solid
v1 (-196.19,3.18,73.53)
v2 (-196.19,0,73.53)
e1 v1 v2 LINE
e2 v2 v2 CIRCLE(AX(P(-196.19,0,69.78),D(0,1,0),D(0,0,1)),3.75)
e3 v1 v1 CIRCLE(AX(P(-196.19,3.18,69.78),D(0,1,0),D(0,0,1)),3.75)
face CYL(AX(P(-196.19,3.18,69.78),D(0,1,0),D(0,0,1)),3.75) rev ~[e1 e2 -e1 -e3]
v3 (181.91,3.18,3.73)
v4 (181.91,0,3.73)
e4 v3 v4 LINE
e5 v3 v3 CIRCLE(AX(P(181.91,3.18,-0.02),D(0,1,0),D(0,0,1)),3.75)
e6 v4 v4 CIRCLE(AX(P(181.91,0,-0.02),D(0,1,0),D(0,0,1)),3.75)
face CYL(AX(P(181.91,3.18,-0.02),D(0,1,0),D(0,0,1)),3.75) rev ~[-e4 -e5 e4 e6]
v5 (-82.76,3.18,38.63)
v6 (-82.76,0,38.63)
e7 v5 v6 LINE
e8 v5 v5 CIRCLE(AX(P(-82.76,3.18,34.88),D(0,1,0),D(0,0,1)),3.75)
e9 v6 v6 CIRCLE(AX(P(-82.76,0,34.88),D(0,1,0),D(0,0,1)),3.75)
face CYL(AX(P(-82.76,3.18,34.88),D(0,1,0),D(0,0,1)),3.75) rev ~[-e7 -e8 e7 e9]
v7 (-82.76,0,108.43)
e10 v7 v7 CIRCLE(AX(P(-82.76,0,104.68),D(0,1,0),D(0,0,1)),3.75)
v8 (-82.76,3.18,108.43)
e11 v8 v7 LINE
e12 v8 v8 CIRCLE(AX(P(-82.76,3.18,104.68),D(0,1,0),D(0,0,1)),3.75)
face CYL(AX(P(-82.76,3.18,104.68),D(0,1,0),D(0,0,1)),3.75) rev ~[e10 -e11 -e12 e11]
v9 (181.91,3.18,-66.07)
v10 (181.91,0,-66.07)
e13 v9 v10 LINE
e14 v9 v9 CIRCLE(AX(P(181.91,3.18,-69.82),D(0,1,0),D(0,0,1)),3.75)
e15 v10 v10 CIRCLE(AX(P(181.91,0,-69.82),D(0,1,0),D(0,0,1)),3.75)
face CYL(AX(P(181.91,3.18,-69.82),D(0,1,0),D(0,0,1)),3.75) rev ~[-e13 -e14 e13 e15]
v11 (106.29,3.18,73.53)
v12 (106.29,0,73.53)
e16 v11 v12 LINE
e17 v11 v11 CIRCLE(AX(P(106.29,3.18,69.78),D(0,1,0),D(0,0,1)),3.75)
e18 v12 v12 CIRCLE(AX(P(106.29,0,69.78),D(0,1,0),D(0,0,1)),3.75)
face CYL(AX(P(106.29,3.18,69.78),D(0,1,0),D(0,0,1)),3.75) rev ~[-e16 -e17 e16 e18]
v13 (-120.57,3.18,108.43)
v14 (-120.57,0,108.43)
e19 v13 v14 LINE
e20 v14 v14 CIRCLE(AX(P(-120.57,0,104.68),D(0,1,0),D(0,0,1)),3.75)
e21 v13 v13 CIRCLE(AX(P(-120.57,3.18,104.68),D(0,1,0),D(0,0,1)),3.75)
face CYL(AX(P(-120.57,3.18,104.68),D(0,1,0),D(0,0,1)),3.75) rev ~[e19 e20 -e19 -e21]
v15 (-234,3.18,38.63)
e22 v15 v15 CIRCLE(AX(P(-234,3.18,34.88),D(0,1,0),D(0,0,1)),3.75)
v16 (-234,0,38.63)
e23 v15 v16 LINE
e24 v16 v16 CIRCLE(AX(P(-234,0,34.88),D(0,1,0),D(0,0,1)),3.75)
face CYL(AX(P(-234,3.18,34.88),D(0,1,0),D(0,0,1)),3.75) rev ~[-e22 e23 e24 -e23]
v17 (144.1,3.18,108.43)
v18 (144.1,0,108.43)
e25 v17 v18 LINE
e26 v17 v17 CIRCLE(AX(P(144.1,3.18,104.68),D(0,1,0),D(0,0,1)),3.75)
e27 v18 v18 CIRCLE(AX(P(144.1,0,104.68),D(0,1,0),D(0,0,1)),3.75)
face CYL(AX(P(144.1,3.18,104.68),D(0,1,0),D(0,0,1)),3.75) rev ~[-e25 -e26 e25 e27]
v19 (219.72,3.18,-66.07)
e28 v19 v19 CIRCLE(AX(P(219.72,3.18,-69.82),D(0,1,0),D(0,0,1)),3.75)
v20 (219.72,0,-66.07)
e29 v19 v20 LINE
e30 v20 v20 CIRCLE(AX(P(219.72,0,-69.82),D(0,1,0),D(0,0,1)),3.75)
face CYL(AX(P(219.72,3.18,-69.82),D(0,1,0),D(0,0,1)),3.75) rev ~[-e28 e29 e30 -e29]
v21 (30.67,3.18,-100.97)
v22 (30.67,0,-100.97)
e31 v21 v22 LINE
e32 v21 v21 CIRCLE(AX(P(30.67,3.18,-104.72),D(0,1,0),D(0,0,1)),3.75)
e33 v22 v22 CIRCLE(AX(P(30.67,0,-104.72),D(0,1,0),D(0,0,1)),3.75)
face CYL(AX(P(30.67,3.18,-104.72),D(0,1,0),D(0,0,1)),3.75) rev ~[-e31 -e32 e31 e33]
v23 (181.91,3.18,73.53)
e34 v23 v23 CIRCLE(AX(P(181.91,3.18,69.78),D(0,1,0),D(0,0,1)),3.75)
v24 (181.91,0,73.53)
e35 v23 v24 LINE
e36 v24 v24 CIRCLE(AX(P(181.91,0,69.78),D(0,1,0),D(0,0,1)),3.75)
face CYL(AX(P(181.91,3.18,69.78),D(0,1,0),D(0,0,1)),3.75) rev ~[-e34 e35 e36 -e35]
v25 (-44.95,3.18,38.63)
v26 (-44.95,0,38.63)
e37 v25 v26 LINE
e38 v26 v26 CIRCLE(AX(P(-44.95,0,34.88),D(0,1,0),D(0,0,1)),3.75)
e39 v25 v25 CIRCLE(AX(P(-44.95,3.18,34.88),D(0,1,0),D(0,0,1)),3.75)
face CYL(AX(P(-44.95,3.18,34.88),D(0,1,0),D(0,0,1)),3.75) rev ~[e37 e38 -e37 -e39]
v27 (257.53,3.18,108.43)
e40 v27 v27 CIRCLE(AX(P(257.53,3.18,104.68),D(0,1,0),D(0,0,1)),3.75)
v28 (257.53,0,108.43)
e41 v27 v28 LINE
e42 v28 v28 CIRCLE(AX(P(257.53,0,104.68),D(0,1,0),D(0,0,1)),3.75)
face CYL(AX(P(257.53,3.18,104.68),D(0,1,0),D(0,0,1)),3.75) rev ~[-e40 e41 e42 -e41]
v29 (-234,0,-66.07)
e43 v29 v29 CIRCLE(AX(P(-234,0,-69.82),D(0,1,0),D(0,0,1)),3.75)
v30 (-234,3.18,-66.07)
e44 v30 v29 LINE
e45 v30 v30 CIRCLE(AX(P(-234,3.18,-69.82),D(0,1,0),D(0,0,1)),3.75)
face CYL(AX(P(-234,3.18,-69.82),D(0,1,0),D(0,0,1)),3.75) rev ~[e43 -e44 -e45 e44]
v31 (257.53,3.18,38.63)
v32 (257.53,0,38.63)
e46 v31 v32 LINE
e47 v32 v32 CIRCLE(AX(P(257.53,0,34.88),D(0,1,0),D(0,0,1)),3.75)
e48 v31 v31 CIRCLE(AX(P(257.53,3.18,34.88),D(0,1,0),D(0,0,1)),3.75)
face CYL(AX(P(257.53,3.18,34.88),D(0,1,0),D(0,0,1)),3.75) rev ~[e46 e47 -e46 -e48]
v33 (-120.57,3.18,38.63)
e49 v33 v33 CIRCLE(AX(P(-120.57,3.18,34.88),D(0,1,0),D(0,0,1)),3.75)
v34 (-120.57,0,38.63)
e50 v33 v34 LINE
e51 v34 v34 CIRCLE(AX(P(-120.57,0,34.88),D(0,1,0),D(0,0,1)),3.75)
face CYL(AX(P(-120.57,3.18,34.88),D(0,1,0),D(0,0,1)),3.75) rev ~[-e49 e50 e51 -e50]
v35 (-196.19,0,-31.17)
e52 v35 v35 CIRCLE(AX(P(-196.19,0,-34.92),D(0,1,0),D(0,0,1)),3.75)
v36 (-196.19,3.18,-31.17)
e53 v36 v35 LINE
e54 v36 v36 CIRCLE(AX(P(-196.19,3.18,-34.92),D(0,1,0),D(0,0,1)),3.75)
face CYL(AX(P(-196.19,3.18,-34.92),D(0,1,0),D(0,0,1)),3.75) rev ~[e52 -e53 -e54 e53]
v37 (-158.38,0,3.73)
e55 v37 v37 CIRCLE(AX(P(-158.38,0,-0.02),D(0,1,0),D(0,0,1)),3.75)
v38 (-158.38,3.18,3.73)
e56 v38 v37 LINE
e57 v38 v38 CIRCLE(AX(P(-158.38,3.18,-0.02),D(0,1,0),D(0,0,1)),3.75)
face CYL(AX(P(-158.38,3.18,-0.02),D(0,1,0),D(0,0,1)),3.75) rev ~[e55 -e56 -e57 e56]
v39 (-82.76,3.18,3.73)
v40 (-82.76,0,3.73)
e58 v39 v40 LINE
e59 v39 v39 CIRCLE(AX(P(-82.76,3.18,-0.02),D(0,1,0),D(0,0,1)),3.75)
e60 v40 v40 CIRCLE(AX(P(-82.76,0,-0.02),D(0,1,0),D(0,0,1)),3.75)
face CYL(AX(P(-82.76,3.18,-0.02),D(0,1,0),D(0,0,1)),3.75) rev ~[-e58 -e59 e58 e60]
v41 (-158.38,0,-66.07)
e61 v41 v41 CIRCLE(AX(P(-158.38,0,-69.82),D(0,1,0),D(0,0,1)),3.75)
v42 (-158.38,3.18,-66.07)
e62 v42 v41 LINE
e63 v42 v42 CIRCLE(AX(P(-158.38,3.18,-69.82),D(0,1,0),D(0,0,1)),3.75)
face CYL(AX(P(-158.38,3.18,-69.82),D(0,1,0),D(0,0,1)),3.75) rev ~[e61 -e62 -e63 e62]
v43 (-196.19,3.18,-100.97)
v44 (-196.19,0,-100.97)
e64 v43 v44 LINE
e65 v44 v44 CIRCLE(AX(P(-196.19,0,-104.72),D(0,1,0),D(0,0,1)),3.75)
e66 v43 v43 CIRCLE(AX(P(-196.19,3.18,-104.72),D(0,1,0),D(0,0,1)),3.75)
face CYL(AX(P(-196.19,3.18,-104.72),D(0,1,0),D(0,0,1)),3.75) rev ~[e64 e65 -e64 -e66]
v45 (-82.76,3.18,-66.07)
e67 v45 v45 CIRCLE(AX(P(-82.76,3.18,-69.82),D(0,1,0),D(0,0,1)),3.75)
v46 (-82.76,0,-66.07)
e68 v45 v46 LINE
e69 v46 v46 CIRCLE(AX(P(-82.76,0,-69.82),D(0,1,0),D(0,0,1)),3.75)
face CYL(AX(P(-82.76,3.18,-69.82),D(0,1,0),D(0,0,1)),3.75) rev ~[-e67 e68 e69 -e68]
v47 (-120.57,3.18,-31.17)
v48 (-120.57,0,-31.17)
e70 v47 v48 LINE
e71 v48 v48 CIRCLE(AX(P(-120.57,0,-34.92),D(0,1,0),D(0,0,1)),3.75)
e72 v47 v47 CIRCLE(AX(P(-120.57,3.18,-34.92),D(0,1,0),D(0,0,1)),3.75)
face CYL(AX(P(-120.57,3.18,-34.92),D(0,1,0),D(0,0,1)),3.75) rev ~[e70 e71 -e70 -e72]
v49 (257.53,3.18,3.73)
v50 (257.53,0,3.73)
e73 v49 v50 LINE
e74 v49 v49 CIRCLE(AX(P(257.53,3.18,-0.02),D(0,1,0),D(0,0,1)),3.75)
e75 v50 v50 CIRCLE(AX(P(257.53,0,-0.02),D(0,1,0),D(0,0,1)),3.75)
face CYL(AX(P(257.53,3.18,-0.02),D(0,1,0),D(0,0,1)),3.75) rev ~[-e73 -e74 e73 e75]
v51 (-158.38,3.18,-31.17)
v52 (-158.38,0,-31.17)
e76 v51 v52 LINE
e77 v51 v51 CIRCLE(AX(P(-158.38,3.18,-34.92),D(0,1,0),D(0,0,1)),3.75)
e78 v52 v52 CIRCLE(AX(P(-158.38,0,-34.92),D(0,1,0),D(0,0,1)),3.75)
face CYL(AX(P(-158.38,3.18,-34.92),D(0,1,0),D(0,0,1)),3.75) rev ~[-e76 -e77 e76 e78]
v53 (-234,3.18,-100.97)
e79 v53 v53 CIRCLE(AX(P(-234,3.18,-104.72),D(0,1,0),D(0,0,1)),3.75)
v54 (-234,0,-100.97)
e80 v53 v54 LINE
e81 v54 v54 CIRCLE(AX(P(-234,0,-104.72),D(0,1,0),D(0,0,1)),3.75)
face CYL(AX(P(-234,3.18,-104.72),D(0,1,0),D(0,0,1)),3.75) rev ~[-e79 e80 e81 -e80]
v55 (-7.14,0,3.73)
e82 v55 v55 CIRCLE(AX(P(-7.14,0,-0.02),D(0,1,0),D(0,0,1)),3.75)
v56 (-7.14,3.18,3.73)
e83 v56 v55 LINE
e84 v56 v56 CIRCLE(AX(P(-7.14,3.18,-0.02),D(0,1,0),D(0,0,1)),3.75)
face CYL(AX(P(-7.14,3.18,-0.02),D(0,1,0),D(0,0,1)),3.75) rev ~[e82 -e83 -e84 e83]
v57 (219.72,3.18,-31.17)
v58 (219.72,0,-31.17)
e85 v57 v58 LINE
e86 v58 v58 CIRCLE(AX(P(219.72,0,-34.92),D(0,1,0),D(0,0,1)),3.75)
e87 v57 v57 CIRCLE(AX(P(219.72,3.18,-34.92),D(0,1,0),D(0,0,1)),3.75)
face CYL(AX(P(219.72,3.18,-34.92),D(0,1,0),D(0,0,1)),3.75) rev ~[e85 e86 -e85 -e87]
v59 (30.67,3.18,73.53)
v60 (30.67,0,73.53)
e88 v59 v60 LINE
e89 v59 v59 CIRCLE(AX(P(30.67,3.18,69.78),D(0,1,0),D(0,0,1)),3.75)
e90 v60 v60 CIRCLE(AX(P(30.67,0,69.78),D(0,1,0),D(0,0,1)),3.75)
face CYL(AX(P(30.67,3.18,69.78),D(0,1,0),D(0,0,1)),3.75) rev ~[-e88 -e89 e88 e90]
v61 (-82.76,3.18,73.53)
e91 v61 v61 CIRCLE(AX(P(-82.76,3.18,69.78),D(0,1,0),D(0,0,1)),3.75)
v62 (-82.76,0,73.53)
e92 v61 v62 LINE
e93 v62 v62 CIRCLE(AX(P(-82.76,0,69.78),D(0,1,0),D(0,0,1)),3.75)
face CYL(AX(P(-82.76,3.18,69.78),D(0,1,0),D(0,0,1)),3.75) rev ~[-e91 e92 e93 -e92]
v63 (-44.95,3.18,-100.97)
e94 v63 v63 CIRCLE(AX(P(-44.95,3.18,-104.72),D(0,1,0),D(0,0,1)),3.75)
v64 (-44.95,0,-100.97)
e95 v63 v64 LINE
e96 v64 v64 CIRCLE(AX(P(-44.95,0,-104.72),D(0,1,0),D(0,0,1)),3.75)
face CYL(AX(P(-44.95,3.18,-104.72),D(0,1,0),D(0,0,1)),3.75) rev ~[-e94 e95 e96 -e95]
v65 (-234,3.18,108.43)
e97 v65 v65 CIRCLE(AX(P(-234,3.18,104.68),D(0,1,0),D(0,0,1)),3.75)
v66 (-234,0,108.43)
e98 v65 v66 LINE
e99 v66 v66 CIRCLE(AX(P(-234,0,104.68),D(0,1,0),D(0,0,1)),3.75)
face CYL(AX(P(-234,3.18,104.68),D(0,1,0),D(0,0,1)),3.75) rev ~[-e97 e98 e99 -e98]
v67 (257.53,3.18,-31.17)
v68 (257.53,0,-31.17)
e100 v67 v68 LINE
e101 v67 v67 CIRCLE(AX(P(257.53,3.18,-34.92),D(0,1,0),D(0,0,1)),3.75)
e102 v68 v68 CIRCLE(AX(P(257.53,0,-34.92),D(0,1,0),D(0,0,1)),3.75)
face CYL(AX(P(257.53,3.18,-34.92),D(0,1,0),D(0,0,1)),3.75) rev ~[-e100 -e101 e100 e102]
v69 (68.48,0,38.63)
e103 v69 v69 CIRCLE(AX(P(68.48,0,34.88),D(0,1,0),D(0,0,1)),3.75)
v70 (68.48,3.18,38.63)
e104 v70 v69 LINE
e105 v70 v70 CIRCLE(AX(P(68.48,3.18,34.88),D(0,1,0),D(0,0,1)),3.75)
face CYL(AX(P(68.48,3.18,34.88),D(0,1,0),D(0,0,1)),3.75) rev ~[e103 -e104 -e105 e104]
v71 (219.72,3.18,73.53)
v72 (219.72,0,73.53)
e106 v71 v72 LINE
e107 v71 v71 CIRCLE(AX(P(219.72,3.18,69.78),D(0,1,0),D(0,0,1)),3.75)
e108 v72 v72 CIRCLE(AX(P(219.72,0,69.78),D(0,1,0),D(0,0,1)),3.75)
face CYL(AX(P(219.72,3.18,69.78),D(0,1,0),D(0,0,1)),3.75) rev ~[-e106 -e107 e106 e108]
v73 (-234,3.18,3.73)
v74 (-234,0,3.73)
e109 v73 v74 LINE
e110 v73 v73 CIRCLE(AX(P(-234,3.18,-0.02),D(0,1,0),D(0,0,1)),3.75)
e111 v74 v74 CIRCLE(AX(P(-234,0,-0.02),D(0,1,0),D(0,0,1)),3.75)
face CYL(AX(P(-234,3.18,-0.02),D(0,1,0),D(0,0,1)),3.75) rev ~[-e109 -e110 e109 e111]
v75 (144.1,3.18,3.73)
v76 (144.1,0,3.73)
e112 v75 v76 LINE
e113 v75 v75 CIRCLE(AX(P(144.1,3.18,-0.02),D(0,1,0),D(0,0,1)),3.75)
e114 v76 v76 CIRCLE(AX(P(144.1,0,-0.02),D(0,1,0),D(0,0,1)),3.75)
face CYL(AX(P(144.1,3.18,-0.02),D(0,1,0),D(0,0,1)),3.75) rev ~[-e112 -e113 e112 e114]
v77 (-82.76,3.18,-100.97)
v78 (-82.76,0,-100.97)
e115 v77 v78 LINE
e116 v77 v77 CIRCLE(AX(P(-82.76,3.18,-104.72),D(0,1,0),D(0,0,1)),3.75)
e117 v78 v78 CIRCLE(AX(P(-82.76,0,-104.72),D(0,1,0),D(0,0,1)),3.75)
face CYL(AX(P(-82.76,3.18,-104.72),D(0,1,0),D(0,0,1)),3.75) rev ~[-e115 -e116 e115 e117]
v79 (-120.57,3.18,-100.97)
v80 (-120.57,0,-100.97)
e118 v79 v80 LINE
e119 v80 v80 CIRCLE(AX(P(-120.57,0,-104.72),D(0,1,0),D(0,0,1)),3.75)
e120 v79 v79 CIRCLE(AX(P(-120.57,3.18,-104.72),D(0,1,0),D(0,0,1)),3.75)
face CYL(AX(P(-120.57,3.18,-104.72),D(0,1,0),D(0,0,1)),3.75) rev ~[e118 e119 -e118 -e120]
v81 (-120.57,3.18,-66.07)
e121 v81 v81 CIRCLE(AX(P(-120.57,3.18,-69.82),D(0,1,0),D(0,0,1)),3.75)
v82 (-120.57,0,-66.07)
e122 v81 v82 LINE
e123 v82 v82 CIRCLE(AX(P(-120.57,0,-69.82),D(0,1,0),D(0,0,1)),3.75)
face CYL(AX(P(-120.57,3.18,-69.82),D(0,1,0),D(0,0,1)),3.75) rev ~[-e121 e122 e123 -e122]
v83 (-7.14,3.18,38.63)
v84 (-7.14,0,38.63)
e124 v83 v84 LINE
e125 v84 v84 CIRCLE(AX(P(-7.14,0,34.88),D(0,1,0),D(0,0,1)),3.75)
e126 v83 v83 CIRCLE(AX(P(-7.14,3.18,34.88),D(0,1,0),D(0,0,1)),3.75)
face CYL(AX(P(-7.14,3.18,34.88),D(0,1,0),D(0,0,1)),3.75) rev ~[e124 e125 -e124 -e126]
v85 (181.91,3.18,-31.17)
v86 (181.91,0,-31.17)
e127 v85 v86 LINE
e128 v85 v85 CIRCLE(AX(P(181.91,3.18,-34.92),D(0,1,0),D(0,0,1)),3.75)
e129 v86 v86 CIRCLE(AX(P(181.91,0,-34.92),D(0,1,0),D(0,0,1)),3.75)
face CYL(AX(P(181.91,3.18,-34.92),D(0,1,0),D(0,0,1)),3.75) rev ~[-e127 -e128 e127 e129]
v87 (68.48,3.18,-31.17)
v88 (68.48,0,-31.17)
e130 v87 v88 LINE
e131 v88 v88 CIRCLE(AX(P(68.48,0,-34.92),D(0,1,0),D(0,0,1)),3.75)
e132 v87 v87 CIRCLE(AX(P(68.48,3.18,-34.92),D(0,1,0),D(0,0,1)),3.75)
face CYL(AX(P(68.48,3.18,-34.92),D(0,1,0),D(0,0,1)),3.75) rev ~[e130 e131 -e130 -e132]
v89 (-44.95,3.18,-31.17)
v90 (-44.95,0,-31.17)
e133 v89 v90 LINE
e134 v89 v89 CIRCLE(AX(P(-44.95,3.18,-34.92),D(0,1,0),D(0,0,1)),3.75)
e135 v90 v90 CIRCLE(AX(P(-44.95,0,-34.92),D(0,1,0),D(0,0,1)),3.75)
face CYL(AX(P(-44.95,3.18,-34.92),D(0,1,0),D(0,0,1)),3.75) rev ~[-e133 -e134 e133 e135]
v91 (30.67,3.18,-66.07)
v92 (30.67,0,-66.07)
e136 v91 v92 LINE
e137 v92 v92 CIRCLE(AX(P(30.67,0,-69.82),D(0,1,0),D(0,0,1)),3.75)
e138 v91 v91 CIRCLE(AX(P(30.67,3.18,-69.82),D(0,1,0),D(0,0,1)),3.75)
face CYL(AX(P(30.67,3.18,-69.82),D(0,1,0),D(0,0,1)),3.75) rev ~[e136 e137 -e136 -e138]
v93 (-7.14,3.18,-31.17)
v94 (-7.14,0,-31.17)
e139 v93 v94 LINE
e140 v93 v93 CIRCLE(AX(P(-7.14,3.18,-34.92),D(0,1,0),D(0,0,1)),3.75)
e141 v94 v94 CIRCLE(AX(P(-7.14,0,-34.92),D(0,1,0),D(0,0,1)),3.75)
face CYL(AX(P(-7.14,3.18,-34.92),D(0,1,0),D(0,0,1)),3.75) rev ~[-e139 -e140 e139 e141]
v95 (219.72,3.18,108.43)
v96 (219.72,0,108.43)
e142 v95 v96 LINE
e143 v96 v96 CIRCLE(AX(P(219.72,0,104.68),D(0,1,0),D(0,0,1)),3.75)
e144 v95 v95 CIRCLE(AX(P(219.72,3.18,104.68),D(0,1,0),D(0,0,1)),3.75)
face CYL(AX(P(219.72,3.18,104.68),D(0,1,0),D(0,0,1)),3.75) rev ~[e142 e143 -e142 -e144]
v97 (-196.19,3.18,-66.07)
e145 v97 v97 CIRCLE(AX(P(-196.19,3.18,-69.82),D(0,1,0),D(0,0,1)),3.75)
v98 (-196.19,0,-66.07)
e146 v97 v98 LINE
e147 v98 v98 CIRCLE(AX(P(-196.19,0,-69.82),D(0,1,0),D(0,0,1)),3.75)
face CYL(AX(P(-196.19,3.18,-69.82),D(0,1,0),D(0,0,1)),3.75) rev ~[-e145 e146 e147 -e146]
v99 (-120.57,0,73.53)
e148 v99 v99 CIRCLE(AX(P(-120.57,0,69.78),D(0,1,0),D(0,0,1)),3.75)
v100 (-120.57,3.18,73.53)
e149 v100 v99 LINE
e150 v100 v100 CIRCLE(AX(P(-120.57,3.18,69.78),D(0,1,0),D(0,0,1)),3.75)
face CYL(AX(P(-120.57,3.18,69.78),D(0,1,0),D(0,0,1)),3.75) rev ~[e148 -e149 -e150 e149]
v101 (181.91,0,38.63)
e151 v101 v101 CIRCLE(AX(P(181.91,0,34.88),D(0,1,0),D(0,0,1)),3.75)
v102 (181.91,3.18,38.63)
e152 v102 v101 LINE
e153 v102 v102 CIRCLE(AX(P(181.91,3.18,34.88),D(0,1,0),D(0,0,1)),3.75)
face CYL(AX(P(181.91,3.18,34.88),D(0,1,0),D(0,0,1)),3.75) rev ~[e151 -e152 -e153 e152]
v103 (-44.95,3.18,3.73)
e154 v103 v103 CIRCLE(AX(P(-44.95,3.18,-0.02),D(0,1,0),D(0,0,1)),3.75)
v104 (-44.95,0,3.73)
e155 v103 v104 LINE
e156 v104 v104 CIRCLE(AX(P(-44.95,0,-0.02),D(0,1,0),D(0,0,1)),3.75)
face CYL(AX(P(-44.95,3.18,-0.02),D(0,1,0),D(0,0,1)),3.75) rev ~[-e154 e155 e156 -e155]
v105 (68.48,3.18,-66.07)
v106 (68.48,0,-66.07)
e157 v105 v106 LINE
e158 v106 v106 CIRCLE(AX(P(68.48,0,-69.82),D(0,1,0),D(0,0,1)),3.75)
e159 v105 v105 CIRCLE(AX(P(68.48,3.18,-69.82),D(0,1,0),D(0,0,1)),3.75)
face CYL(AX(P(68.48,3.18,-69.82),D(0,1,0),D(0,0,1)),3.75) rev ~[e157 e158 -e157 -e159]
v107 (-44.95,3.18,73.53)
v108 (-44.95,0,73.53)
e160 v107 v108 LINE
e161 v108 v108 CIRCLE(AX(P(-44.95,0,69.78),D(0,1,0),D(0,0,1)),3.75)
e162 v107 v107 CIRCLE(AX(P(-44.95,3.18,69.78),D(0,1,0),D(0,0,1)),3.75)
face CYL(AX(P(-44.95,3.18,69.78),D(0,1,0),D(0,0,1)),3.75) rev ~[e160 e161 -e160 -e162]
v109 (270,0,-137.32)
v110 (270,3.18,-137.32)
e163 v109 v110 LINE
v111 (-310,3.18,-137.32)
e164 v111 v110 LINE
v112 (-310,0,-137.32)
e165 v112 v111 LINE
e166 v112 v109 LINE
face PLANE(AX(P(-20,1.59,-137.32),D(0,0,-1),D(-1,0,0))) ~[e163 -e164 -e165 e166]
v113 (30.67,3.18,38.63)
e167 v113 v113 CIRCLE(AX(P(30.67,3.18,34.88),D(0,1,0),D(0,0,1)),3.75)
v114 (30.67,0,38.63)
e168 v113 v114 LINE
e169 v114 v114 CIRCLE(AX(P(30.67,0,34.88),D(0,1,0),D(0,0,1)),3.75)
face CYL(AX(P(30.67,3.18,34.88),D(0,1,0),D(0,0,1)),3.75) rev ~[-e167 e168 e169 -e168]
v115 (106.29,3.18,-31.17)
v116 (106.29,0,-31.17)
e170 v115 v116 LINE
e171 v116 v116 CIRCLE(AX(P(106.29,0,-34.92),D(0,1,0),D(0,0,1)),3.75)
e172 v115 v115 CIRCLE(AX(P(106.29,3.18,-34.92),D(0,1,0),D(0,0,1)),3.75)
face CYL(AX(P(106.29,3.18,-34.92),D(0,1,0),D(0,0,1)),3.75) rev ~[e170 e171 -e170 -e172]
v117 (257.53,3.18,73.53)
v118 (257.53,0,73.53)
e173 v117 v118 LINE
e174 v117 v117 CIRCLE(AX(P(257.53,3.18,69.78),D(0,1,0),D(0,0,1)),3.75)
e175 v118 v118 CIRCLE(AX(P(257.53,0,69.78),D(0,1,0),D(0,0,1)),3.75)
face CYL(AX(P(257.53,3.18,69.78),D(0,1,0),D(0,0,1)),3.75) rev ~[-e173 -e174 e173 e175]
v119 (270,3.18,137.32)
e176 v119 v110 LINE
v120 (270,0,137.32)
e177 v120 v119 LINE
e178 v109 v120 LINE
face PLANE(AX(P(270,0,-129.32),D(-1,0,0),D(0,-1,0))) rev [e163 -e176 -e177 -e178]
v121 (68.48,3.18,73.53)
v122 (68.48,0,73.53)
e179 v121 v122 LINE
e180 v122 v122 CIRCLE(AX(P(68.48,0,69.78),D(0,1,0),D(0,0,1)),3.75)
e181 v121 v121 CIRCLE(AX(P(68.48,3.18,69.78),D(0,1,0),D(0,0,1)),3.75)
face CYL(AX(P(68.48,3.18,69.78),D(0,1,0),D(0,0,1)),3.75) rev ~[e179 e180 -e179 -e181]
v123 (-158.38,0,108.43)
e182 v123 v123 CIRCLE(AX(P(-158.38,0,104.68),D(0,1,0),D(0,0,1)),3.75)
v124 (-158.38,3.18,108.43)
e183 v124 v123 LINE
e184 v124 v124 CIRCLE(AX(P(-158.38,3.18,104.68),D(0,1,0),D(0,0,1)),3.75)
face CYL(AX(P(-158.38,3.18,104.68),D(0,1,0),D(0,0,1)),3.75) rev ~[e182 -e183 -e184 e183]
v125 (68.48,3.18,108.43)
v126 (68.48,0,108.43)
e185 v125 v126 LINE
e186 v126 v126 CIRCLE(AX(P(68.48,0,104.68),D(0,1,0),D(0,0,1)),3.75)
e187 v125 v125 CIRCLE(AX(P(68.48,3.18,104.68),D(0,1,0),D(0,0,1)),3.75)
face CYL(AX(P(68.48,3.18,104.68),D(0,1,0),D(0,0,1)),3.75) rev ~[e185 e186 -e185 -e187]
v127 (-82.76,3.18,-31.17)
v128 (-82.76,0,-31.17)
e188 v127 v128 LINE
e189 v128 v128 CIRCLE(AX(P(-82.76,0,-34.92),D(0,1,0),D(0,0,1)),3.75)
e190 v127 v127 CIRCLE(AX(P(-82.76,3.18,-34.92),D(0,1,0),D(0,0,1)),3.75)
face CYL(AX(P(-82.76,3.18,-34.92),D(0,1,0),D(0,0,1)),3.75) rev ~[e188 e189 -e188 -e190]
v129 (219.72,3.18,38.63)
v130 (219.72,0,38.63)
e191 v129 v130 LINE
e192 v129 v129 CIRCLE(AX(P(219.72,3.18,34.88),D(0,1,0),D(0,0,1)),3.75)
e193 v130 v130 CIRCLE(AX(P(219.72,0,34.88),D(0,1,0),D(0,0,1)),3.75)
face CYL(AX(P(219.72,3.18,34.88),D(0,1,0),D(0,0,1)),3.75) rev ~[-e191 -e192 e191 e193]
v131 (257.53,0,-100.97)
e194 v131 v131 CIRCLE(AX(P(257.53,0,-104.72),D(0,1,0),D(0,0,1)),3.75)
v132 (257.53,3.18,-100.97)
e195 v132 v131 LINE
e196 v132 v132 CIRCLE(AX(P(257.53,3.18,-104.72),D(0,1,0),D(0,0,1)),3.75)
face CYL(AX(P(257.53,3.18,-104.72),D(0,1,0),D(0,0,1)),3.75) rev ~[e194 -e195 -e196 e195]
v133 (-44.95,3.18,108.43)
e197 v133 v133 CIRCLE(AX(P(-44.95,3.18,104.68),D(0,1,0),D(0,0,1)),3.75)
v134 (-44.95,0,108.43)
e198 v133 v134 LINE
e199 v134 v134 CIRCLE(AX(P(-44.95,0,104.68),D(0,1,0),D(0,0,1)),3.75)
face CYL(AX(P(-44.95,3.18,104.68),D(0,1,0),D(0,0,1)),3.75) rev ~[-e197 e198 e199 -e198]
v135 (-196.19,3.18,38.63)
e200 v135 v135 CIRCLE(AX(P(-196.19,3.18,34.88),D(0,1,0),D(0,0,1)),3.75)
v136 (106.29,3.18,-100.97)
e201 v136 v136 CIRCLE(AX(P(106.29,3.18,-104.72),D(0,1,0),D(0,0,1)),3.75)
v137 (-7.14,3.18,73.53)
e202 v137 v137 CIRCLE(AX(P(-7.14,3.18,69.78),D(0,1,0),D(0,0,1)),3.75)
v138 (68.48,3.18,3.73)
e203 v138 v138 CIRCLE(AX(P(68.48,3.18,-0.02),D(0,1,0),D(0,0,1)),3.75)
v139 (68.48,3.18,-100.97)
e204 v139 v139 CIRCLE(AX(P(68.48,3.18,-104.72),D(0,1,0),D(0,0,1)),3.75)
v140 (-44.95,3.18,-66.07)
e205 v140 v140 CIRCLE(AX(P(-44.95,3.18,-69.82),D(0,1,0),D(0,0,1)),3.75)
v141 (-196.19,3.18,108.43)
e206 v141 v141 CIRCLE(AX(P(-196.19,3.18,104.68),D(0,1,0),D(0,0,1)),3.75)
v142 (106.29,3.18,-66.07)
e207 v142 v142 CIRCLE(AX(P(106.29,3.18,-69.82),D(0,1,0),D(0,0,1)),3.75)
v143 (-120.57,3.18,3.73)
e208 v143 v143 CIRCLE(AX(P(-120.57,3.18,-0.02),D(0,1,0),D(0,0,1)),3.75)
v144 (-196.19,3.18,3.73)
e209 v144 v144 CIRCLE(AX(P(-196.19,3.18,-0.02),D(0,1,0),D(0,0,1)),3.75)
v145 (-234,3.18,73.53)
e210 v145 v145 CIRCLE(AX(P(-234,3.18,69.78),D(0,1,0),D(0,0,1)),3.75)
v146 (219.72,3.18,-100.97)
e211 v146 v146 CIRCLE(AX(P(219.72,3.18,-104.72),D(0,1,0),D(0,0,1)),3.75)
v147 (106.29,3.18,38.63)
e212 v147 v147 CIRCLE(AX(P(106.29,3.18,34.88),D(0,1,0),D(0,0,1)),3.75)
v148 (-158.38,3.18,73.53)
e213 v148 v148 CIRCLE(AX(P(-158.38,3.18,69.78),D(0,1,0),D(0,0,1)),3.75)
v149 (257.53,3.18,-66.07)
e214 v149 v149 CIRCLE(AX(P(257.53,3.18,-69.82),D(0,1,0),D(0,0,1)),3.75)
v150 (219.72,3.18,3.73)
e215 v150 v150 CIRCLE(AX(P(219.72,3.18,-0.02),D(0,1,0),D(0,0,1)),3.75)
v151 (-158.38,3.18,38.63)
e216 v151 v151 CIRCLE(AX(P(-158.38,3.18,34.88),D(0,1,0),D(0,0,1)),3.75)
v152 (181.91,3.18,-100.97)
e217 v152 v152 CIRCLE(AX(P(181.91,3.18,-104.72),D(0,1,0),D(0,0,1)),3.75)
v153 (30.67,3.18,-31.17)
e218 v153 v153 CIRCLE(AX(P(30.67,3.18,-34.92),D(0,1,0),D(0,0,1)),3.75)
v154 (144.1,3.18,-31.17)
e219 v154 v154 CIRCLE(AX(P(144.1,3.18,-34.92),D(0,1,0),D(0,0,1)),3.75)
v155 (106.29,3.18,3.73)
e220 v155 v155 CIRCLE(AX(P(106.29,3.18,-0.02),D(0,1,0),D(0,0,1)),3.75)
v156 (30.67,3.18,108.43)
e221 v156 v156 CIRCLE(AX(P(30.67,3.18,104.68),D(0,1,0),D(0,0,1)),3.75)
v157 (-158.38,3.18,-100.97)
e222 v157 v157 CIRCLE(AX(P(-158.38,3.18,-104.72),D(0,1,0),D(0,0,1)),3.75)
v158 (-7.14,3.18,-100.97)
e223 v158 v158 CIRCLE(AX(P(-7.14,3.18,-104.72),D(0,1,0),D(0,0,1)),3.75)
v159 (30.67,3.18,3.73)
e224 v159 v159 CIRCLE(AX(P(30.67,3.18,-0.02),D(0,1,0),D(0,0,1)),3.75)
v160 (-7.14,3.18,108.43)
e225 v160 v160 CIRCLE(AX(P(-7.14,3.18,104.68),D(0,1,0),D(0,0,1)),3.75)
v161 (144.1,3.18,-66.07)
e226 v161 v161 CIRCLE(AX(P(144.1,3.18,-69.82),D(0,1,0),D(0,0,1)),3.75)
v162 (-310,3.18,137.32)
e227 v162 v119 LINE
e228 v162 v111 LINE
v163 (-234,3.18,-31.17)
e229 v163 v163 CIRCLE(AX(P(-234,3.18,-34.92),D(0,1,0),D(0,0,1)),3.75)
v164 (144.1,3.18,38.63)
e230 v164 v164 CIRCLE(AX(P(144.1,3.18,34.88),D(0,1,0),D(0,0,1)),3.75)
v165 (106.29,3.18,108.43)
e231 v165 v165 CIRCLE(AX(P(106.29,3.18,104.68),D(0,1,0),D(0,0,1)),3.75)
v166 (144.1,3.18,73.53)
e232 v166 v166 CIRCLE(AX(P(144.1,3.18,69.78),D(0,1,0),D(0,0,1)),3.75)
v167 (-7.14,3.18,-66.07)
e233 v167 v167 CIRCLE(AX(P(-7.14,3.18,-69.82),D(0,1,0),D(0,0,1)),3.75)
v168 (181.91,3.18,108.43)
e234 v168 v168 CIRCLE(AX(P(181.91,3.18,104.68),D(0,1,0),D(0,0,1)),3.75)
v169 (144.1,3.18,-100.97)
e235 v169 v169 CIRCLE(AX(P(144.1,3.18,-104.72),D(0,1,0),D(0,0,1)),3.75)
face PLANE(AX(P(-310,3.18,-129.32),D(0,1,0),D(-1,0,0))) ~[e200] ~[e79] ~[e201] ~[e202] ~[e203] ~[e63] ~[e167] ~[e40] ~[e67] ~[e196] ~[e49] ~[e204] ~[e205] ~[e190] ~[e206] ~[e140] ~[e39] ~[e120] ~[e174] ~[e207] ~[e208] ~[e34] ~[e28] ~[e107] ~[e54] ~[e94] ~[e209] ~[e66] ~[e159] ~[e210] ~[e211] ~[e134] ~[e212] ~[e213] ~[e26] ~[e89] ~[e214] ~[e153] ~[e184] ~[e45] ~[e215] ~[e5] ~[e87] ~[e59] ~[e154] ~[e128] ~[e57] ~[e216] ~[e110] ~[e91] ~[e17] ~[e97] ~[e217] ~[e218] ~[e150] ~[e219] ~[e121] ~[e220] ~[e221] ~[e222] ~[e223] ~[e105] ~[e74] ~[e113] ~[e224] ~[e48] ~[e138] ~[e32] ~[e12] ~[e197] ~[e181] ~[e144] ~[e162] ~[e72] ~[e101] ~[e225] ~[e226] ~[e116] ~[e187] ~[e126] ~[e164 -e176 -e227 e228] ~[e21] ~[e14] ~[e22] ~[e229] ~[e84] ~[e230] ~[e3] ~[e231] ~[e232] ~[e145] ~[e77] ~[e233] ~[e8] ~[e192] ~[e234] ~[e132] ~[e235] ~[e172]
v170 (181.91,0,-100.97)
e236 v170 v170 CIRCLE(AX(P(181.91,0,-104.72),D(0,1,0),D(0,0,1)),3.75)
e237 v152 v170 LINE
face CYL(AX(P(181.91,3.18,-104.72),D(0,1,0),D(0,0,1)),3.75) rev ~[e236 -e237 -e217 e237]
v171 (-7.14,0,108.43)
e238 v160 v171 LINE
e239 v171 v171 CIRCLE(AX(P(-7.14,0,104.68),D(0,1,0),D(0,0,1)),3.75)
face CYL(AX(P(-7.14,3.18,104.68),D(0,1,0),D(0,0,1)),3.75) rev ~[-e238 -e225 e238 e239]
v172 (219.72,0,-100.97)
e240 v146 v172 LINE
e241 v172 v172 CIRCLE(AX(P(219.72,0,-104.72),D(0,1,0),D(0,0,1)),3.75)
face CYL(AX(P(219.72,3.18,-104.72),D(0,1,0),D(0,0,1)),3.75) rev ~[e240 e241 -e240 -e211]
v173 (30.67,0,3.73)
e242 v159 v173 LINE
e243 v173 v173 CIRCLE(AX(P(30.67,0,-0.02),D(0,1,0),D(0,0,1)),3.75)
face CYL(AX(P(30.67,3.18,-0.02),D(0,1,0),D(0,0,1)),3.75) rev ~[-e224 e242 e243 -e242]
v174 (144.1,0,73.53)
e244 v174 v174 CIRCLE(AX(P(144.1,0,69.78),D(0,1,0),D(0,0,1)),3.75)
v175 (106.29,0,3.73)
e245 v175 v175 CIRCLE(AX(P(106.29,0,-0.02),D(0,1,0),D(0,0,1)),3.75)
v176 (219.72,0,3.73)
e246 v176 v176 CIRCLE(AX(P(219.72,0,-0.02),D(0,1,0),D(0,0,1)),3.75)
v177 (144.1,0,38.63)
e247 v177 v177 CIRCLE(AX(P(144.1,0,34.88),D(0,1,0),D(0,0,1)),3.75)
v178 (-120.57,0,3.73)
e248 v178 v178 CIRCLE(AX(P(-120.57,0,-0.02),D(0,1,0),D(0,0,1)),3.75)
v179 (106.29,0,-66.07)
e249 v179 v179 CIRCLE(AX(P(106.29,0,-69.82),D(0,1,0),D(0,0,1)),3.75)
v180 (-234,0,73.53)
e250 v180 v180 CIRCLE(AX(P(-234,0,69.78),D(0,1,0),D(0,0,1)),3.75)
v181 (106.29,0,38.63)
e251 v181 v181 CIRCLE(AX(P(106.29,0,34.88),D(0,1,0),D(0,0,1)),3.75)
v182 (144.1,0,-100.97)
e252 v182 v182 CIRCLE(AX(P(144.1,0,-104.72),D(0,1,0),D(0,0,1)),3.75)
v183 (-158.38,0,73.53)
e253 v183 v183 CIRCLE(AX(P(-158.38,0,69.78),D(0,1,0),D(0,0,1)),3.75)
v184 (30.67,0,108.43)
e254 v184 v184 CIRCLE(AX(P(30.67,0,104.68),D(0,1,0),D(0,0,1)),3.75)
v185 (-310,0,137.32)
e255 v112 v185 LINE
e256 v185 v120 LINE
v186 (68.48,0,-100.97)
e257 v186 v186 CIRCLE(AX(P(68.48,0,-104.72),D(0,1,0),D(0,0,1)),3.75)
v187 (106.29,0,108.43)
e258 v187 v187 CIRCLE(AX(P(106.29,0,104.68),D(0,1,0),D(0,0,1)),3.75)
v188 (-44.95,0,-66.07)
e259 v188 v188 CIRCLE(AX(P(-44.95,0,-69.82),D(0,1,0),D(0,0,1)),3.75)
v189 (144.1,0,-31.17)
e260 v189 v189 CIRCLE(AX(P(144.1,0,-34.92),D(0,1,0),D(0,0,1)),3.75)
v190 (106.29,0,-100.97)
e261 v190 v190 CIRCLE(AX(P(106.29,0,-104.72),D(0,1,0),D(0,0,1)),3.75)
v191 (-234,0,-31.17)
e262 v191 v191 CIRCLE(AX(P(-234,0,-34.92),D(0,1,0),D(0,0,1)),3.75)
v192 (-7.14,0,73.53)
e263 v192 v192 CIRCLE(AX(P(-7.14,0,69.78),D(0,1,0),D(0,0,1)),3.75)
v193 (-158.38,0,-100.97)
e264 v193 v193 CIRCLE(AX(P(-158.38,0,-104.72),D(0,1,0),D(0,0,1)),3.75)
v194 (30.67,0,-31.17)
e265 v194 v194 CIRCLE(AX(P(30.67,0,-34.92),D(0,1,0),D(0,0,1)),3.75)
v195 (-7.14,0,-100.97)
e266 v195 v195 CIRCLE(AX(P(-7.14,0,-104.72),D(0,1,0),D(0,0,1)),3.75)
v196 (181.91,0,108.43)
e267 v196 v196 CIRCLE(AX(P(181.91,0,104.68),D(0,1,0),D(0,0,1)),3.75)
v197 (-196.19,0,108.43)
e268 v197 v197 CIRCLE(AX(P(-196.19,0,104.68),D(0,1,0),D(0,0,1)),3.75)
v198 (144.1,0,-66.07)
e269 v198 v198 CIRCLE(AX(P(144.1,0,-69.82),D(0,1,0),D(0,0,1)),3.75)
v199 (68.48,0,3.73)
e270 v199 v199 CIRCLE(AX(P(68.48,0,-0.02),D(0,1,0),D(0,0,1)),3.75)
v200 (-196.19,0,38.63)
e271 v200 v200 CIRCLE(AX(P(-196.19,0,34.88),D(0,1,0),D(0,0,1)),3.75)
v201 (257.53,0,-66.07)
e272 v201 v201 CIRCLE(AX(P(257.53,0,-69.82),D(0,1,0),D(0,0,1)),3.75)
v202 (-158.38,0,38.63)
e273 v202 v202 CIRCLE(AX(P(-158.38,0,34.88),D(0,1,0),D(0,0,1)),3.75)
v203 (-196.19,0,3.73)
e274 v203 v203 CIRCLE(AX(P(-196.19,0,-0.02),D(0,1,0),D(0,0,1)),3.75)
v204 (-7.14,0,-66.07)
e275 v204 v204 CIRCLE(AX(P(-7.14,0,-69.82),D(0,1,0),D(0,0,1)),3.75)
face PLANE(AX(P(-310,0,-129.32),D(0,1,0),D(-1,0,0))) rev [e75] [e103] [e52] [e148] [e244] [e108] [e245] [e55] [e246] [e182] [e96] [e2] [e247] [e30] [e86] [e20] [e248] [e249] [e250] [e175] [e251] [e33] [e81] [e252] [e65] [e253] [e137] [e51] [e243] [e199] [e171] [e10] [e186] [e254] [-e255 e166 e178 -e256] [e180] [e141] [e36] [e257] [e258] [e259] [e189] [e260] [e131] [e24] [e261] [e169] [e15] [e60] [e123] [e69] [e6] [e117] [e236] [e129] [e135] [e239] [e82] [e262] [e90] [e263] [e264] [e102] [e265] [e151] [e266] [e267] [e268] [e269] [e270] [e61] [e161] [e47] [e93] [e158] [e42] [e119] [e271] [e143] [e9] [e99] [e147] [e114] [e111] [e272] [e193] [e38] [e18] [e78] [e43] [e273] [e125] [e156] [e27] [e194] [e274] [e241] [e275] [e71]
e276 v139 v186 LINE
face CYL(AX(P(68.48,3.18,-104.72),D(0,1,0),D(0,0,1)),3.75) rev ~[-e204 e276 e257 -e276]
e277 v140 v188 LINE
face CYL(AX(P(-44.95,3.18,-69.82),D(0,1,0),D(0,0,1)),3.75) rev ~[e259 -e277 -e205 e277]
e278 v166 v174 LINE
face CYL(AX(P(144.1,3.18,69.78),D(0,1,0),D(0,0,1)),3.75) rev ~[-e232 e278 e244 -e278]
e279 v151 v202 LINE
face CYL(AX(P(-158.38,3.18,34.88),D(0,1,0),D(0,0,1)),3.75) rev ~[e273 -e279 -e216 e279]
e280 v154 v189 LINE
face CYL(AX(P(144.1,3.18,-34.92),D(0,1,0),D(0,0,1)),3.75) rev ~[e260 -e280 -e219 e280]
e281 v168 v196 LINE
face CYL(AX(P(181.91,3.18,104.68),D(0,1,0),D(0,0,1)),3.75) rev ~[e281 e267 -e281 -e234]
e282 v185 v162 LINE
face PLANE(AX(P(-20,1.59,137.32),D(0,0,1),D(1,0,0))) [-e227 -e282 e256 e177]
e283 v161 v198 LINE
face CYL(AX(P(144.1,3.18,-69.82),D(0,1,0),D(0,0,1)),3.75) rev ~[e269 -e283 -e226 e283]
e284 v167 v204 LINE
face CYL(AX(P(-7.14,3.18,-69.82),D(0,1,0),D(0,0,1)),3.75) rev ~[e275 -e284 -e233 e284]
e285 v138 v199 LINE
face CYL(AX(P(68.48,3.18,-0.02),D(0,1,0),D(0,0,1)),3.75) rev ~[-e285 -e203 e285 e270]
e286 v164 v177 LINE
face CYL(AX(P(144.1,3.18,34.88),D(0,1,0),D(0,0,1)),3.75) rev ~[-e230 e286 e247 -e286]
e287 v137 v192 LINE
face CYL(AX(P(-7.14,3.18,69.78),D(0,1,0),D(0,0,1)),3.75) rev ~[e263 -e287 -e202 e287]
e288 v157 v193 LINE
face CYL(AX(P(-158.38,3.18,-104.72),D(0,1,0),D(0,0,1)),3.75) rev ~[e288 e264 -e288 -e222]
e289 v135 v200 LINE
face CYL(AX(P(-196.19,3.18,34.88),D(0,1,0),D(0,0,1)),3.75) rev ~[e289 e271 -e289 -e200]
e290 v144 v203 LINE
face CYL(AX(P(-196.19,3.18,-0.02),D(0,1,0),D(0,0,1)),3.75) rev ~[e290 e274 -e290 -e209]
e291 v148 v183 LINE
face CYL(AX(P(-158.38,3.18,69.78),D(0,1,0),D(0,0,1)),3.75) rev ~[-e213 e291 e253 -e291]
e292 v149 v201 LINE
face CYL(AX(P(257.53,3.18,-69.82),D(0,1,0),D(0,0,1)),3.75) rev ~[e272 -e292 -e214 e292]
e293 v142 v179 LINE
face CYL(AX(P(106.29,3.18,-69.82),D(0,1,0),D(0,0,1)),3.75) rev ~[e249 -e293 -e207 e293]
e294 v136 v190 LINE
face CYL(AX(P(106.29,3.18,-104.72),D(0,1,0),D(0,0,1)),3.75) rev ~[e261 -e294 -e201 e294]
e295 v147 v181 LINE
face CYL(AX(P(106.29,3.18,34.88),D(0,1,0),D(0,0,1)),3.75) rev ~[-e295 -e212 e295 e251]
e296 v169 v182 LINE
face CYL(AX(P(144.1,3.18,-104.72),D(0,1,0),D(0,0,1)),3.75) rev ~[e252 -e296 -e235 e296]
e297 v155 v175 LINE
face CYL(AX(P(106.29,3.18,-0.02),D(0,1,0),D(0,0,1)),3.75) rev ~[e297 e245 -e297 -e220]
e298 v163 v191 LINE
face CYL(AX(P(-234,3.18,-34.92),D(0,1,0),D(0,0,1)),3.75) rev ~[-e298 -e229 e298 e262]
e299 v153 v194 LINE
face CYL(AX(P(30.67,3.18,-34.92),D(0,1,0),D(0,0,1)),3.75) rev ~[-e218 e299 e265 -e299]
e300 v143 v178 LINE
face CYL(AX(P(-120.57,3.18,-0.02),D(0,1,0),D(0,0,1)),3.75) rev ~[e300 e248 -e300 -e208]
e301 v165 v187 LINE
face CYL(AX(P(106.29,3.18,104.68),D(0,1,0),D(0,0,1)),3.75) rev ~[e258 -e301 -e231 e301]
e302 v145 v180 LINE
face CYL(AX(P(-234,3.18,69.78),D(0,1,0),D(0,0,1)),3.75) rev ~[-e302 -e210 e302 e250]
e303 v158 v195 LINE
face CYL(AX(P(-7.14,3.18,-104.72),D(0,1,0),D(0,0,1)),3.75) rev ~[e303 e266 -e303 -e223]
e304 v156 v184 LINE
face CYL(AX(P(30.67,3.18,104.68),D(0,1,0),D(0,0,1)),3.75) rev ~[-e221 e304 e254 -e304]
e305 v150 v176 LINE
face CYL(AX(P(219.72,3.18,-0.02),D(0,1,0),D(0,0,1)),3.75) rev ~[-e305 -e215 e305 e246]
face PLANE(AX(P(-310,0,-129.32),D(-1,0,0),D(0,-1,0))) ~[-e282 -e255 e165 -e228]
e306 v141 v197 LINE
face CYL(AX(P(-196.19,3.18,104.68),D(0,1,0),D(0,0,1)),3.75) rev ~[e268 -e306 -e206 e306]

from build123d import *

# Parameters (mm, degrees)
SKETCH1_W            = 540
SKETCH1_H            = 258.64
BOSS_EXTRUDE1_DEPTH  = 3.18
CUT_EXTRUDE1_REACH   = 301.389
SKETCH2_R            = 3.75
LPATTERN1_COUNT      = 14
LPATTERN1_PITCH      = 37.81
LPATTERN1_COUNT_DIR2 = 7
LPATTERN1_PITCH_DIR2 = 34.9
SKETCH4_W            = 258.64
SKETCH4_H            = 3.18
BOSS_EXTRUDE2_DEPTH  = 40
SKETCH5_W            = 580
SKETCH5_H            = 3.18
BOSS_EXTRUDE3_DEPTH  = 8


with BuildPart() as part:
    # Sketch1 → Boss-Extrude1 (new body)
    with BuildSketch(Plane(origin=(0, 0, 0), x_dir=(1, 0, 0), z_dir=(0, 1, 0))):
        Rectangle(SKETCH1_W, SKETCH1_H)
    extrude(amount=BOSS_EXTRUDE1_DEPTH)

    # Sketch2 → Cut-Extrude1 (cut, up to next)
    with BuildSketch(Plane(origin=(0, 3.18, 0), x_dir=(1, 0, 0), z_dir=(0, 1, 0)), mode=Mode.PRIVATE) as cut_extrude1_sk1:
        with Locations(Location((-234, 104.72, 0), (0, 0, 270))):
            Circle(SKETCH2_R)
    cut_extrude1_tool1 = extrude(cut_extrude1_sk1.sketch, amount=-CUT_EXTRUDE1_REACH, mode=Mode.PRIVATE) & part.part
    cut_extrude1 = cut_extrude1_tool1.solids().sort_by_distance((-234, 3.18, -104.72))[0]
    add(cut_extrude1, mode=Mode.SUBTRACT)

    # LPattern1: Cut-Extrude1 14 × 7
    with Locations(*[(i * LPATTERN1_PITCH, 0, j * LPATTERN1_PITCH_DIR2) for i in range(LPATTERN1_COUNT) for j in range(LPATTERN1_COUNT_DIR2) if (i, j) != (0, 0)]):
        add(cut_extrude1, mode=Mode.SUBTRACT)

    # Sketch4 → Boss-Extrude2 (add)
    with BuildSketch(Plane.ZY.offset(270)):
        with Locations((0, 1.59)):
            Rectangle(SKETCH4_W, SKETCH4_H)
    extrude(amount=BOSS_EXTRUDE2_DEPTH)

    # Sketch5 → Boss-Extrude3 (add)
    with BuildSketch(Plane.XY.offset(129.32)):
        with Locations((-20, 1.59)):
            Rectangle(SKETCH5_W, SKETCH5_H)
    boss_extrude3 = extrude(amount=BOSS_EXTRUDE3_DEPTH)

    # Mirror1: Boss-Extrude3 across plane
    add(boss_extrude3.mirror(Plane.XY))


solid = part.part
